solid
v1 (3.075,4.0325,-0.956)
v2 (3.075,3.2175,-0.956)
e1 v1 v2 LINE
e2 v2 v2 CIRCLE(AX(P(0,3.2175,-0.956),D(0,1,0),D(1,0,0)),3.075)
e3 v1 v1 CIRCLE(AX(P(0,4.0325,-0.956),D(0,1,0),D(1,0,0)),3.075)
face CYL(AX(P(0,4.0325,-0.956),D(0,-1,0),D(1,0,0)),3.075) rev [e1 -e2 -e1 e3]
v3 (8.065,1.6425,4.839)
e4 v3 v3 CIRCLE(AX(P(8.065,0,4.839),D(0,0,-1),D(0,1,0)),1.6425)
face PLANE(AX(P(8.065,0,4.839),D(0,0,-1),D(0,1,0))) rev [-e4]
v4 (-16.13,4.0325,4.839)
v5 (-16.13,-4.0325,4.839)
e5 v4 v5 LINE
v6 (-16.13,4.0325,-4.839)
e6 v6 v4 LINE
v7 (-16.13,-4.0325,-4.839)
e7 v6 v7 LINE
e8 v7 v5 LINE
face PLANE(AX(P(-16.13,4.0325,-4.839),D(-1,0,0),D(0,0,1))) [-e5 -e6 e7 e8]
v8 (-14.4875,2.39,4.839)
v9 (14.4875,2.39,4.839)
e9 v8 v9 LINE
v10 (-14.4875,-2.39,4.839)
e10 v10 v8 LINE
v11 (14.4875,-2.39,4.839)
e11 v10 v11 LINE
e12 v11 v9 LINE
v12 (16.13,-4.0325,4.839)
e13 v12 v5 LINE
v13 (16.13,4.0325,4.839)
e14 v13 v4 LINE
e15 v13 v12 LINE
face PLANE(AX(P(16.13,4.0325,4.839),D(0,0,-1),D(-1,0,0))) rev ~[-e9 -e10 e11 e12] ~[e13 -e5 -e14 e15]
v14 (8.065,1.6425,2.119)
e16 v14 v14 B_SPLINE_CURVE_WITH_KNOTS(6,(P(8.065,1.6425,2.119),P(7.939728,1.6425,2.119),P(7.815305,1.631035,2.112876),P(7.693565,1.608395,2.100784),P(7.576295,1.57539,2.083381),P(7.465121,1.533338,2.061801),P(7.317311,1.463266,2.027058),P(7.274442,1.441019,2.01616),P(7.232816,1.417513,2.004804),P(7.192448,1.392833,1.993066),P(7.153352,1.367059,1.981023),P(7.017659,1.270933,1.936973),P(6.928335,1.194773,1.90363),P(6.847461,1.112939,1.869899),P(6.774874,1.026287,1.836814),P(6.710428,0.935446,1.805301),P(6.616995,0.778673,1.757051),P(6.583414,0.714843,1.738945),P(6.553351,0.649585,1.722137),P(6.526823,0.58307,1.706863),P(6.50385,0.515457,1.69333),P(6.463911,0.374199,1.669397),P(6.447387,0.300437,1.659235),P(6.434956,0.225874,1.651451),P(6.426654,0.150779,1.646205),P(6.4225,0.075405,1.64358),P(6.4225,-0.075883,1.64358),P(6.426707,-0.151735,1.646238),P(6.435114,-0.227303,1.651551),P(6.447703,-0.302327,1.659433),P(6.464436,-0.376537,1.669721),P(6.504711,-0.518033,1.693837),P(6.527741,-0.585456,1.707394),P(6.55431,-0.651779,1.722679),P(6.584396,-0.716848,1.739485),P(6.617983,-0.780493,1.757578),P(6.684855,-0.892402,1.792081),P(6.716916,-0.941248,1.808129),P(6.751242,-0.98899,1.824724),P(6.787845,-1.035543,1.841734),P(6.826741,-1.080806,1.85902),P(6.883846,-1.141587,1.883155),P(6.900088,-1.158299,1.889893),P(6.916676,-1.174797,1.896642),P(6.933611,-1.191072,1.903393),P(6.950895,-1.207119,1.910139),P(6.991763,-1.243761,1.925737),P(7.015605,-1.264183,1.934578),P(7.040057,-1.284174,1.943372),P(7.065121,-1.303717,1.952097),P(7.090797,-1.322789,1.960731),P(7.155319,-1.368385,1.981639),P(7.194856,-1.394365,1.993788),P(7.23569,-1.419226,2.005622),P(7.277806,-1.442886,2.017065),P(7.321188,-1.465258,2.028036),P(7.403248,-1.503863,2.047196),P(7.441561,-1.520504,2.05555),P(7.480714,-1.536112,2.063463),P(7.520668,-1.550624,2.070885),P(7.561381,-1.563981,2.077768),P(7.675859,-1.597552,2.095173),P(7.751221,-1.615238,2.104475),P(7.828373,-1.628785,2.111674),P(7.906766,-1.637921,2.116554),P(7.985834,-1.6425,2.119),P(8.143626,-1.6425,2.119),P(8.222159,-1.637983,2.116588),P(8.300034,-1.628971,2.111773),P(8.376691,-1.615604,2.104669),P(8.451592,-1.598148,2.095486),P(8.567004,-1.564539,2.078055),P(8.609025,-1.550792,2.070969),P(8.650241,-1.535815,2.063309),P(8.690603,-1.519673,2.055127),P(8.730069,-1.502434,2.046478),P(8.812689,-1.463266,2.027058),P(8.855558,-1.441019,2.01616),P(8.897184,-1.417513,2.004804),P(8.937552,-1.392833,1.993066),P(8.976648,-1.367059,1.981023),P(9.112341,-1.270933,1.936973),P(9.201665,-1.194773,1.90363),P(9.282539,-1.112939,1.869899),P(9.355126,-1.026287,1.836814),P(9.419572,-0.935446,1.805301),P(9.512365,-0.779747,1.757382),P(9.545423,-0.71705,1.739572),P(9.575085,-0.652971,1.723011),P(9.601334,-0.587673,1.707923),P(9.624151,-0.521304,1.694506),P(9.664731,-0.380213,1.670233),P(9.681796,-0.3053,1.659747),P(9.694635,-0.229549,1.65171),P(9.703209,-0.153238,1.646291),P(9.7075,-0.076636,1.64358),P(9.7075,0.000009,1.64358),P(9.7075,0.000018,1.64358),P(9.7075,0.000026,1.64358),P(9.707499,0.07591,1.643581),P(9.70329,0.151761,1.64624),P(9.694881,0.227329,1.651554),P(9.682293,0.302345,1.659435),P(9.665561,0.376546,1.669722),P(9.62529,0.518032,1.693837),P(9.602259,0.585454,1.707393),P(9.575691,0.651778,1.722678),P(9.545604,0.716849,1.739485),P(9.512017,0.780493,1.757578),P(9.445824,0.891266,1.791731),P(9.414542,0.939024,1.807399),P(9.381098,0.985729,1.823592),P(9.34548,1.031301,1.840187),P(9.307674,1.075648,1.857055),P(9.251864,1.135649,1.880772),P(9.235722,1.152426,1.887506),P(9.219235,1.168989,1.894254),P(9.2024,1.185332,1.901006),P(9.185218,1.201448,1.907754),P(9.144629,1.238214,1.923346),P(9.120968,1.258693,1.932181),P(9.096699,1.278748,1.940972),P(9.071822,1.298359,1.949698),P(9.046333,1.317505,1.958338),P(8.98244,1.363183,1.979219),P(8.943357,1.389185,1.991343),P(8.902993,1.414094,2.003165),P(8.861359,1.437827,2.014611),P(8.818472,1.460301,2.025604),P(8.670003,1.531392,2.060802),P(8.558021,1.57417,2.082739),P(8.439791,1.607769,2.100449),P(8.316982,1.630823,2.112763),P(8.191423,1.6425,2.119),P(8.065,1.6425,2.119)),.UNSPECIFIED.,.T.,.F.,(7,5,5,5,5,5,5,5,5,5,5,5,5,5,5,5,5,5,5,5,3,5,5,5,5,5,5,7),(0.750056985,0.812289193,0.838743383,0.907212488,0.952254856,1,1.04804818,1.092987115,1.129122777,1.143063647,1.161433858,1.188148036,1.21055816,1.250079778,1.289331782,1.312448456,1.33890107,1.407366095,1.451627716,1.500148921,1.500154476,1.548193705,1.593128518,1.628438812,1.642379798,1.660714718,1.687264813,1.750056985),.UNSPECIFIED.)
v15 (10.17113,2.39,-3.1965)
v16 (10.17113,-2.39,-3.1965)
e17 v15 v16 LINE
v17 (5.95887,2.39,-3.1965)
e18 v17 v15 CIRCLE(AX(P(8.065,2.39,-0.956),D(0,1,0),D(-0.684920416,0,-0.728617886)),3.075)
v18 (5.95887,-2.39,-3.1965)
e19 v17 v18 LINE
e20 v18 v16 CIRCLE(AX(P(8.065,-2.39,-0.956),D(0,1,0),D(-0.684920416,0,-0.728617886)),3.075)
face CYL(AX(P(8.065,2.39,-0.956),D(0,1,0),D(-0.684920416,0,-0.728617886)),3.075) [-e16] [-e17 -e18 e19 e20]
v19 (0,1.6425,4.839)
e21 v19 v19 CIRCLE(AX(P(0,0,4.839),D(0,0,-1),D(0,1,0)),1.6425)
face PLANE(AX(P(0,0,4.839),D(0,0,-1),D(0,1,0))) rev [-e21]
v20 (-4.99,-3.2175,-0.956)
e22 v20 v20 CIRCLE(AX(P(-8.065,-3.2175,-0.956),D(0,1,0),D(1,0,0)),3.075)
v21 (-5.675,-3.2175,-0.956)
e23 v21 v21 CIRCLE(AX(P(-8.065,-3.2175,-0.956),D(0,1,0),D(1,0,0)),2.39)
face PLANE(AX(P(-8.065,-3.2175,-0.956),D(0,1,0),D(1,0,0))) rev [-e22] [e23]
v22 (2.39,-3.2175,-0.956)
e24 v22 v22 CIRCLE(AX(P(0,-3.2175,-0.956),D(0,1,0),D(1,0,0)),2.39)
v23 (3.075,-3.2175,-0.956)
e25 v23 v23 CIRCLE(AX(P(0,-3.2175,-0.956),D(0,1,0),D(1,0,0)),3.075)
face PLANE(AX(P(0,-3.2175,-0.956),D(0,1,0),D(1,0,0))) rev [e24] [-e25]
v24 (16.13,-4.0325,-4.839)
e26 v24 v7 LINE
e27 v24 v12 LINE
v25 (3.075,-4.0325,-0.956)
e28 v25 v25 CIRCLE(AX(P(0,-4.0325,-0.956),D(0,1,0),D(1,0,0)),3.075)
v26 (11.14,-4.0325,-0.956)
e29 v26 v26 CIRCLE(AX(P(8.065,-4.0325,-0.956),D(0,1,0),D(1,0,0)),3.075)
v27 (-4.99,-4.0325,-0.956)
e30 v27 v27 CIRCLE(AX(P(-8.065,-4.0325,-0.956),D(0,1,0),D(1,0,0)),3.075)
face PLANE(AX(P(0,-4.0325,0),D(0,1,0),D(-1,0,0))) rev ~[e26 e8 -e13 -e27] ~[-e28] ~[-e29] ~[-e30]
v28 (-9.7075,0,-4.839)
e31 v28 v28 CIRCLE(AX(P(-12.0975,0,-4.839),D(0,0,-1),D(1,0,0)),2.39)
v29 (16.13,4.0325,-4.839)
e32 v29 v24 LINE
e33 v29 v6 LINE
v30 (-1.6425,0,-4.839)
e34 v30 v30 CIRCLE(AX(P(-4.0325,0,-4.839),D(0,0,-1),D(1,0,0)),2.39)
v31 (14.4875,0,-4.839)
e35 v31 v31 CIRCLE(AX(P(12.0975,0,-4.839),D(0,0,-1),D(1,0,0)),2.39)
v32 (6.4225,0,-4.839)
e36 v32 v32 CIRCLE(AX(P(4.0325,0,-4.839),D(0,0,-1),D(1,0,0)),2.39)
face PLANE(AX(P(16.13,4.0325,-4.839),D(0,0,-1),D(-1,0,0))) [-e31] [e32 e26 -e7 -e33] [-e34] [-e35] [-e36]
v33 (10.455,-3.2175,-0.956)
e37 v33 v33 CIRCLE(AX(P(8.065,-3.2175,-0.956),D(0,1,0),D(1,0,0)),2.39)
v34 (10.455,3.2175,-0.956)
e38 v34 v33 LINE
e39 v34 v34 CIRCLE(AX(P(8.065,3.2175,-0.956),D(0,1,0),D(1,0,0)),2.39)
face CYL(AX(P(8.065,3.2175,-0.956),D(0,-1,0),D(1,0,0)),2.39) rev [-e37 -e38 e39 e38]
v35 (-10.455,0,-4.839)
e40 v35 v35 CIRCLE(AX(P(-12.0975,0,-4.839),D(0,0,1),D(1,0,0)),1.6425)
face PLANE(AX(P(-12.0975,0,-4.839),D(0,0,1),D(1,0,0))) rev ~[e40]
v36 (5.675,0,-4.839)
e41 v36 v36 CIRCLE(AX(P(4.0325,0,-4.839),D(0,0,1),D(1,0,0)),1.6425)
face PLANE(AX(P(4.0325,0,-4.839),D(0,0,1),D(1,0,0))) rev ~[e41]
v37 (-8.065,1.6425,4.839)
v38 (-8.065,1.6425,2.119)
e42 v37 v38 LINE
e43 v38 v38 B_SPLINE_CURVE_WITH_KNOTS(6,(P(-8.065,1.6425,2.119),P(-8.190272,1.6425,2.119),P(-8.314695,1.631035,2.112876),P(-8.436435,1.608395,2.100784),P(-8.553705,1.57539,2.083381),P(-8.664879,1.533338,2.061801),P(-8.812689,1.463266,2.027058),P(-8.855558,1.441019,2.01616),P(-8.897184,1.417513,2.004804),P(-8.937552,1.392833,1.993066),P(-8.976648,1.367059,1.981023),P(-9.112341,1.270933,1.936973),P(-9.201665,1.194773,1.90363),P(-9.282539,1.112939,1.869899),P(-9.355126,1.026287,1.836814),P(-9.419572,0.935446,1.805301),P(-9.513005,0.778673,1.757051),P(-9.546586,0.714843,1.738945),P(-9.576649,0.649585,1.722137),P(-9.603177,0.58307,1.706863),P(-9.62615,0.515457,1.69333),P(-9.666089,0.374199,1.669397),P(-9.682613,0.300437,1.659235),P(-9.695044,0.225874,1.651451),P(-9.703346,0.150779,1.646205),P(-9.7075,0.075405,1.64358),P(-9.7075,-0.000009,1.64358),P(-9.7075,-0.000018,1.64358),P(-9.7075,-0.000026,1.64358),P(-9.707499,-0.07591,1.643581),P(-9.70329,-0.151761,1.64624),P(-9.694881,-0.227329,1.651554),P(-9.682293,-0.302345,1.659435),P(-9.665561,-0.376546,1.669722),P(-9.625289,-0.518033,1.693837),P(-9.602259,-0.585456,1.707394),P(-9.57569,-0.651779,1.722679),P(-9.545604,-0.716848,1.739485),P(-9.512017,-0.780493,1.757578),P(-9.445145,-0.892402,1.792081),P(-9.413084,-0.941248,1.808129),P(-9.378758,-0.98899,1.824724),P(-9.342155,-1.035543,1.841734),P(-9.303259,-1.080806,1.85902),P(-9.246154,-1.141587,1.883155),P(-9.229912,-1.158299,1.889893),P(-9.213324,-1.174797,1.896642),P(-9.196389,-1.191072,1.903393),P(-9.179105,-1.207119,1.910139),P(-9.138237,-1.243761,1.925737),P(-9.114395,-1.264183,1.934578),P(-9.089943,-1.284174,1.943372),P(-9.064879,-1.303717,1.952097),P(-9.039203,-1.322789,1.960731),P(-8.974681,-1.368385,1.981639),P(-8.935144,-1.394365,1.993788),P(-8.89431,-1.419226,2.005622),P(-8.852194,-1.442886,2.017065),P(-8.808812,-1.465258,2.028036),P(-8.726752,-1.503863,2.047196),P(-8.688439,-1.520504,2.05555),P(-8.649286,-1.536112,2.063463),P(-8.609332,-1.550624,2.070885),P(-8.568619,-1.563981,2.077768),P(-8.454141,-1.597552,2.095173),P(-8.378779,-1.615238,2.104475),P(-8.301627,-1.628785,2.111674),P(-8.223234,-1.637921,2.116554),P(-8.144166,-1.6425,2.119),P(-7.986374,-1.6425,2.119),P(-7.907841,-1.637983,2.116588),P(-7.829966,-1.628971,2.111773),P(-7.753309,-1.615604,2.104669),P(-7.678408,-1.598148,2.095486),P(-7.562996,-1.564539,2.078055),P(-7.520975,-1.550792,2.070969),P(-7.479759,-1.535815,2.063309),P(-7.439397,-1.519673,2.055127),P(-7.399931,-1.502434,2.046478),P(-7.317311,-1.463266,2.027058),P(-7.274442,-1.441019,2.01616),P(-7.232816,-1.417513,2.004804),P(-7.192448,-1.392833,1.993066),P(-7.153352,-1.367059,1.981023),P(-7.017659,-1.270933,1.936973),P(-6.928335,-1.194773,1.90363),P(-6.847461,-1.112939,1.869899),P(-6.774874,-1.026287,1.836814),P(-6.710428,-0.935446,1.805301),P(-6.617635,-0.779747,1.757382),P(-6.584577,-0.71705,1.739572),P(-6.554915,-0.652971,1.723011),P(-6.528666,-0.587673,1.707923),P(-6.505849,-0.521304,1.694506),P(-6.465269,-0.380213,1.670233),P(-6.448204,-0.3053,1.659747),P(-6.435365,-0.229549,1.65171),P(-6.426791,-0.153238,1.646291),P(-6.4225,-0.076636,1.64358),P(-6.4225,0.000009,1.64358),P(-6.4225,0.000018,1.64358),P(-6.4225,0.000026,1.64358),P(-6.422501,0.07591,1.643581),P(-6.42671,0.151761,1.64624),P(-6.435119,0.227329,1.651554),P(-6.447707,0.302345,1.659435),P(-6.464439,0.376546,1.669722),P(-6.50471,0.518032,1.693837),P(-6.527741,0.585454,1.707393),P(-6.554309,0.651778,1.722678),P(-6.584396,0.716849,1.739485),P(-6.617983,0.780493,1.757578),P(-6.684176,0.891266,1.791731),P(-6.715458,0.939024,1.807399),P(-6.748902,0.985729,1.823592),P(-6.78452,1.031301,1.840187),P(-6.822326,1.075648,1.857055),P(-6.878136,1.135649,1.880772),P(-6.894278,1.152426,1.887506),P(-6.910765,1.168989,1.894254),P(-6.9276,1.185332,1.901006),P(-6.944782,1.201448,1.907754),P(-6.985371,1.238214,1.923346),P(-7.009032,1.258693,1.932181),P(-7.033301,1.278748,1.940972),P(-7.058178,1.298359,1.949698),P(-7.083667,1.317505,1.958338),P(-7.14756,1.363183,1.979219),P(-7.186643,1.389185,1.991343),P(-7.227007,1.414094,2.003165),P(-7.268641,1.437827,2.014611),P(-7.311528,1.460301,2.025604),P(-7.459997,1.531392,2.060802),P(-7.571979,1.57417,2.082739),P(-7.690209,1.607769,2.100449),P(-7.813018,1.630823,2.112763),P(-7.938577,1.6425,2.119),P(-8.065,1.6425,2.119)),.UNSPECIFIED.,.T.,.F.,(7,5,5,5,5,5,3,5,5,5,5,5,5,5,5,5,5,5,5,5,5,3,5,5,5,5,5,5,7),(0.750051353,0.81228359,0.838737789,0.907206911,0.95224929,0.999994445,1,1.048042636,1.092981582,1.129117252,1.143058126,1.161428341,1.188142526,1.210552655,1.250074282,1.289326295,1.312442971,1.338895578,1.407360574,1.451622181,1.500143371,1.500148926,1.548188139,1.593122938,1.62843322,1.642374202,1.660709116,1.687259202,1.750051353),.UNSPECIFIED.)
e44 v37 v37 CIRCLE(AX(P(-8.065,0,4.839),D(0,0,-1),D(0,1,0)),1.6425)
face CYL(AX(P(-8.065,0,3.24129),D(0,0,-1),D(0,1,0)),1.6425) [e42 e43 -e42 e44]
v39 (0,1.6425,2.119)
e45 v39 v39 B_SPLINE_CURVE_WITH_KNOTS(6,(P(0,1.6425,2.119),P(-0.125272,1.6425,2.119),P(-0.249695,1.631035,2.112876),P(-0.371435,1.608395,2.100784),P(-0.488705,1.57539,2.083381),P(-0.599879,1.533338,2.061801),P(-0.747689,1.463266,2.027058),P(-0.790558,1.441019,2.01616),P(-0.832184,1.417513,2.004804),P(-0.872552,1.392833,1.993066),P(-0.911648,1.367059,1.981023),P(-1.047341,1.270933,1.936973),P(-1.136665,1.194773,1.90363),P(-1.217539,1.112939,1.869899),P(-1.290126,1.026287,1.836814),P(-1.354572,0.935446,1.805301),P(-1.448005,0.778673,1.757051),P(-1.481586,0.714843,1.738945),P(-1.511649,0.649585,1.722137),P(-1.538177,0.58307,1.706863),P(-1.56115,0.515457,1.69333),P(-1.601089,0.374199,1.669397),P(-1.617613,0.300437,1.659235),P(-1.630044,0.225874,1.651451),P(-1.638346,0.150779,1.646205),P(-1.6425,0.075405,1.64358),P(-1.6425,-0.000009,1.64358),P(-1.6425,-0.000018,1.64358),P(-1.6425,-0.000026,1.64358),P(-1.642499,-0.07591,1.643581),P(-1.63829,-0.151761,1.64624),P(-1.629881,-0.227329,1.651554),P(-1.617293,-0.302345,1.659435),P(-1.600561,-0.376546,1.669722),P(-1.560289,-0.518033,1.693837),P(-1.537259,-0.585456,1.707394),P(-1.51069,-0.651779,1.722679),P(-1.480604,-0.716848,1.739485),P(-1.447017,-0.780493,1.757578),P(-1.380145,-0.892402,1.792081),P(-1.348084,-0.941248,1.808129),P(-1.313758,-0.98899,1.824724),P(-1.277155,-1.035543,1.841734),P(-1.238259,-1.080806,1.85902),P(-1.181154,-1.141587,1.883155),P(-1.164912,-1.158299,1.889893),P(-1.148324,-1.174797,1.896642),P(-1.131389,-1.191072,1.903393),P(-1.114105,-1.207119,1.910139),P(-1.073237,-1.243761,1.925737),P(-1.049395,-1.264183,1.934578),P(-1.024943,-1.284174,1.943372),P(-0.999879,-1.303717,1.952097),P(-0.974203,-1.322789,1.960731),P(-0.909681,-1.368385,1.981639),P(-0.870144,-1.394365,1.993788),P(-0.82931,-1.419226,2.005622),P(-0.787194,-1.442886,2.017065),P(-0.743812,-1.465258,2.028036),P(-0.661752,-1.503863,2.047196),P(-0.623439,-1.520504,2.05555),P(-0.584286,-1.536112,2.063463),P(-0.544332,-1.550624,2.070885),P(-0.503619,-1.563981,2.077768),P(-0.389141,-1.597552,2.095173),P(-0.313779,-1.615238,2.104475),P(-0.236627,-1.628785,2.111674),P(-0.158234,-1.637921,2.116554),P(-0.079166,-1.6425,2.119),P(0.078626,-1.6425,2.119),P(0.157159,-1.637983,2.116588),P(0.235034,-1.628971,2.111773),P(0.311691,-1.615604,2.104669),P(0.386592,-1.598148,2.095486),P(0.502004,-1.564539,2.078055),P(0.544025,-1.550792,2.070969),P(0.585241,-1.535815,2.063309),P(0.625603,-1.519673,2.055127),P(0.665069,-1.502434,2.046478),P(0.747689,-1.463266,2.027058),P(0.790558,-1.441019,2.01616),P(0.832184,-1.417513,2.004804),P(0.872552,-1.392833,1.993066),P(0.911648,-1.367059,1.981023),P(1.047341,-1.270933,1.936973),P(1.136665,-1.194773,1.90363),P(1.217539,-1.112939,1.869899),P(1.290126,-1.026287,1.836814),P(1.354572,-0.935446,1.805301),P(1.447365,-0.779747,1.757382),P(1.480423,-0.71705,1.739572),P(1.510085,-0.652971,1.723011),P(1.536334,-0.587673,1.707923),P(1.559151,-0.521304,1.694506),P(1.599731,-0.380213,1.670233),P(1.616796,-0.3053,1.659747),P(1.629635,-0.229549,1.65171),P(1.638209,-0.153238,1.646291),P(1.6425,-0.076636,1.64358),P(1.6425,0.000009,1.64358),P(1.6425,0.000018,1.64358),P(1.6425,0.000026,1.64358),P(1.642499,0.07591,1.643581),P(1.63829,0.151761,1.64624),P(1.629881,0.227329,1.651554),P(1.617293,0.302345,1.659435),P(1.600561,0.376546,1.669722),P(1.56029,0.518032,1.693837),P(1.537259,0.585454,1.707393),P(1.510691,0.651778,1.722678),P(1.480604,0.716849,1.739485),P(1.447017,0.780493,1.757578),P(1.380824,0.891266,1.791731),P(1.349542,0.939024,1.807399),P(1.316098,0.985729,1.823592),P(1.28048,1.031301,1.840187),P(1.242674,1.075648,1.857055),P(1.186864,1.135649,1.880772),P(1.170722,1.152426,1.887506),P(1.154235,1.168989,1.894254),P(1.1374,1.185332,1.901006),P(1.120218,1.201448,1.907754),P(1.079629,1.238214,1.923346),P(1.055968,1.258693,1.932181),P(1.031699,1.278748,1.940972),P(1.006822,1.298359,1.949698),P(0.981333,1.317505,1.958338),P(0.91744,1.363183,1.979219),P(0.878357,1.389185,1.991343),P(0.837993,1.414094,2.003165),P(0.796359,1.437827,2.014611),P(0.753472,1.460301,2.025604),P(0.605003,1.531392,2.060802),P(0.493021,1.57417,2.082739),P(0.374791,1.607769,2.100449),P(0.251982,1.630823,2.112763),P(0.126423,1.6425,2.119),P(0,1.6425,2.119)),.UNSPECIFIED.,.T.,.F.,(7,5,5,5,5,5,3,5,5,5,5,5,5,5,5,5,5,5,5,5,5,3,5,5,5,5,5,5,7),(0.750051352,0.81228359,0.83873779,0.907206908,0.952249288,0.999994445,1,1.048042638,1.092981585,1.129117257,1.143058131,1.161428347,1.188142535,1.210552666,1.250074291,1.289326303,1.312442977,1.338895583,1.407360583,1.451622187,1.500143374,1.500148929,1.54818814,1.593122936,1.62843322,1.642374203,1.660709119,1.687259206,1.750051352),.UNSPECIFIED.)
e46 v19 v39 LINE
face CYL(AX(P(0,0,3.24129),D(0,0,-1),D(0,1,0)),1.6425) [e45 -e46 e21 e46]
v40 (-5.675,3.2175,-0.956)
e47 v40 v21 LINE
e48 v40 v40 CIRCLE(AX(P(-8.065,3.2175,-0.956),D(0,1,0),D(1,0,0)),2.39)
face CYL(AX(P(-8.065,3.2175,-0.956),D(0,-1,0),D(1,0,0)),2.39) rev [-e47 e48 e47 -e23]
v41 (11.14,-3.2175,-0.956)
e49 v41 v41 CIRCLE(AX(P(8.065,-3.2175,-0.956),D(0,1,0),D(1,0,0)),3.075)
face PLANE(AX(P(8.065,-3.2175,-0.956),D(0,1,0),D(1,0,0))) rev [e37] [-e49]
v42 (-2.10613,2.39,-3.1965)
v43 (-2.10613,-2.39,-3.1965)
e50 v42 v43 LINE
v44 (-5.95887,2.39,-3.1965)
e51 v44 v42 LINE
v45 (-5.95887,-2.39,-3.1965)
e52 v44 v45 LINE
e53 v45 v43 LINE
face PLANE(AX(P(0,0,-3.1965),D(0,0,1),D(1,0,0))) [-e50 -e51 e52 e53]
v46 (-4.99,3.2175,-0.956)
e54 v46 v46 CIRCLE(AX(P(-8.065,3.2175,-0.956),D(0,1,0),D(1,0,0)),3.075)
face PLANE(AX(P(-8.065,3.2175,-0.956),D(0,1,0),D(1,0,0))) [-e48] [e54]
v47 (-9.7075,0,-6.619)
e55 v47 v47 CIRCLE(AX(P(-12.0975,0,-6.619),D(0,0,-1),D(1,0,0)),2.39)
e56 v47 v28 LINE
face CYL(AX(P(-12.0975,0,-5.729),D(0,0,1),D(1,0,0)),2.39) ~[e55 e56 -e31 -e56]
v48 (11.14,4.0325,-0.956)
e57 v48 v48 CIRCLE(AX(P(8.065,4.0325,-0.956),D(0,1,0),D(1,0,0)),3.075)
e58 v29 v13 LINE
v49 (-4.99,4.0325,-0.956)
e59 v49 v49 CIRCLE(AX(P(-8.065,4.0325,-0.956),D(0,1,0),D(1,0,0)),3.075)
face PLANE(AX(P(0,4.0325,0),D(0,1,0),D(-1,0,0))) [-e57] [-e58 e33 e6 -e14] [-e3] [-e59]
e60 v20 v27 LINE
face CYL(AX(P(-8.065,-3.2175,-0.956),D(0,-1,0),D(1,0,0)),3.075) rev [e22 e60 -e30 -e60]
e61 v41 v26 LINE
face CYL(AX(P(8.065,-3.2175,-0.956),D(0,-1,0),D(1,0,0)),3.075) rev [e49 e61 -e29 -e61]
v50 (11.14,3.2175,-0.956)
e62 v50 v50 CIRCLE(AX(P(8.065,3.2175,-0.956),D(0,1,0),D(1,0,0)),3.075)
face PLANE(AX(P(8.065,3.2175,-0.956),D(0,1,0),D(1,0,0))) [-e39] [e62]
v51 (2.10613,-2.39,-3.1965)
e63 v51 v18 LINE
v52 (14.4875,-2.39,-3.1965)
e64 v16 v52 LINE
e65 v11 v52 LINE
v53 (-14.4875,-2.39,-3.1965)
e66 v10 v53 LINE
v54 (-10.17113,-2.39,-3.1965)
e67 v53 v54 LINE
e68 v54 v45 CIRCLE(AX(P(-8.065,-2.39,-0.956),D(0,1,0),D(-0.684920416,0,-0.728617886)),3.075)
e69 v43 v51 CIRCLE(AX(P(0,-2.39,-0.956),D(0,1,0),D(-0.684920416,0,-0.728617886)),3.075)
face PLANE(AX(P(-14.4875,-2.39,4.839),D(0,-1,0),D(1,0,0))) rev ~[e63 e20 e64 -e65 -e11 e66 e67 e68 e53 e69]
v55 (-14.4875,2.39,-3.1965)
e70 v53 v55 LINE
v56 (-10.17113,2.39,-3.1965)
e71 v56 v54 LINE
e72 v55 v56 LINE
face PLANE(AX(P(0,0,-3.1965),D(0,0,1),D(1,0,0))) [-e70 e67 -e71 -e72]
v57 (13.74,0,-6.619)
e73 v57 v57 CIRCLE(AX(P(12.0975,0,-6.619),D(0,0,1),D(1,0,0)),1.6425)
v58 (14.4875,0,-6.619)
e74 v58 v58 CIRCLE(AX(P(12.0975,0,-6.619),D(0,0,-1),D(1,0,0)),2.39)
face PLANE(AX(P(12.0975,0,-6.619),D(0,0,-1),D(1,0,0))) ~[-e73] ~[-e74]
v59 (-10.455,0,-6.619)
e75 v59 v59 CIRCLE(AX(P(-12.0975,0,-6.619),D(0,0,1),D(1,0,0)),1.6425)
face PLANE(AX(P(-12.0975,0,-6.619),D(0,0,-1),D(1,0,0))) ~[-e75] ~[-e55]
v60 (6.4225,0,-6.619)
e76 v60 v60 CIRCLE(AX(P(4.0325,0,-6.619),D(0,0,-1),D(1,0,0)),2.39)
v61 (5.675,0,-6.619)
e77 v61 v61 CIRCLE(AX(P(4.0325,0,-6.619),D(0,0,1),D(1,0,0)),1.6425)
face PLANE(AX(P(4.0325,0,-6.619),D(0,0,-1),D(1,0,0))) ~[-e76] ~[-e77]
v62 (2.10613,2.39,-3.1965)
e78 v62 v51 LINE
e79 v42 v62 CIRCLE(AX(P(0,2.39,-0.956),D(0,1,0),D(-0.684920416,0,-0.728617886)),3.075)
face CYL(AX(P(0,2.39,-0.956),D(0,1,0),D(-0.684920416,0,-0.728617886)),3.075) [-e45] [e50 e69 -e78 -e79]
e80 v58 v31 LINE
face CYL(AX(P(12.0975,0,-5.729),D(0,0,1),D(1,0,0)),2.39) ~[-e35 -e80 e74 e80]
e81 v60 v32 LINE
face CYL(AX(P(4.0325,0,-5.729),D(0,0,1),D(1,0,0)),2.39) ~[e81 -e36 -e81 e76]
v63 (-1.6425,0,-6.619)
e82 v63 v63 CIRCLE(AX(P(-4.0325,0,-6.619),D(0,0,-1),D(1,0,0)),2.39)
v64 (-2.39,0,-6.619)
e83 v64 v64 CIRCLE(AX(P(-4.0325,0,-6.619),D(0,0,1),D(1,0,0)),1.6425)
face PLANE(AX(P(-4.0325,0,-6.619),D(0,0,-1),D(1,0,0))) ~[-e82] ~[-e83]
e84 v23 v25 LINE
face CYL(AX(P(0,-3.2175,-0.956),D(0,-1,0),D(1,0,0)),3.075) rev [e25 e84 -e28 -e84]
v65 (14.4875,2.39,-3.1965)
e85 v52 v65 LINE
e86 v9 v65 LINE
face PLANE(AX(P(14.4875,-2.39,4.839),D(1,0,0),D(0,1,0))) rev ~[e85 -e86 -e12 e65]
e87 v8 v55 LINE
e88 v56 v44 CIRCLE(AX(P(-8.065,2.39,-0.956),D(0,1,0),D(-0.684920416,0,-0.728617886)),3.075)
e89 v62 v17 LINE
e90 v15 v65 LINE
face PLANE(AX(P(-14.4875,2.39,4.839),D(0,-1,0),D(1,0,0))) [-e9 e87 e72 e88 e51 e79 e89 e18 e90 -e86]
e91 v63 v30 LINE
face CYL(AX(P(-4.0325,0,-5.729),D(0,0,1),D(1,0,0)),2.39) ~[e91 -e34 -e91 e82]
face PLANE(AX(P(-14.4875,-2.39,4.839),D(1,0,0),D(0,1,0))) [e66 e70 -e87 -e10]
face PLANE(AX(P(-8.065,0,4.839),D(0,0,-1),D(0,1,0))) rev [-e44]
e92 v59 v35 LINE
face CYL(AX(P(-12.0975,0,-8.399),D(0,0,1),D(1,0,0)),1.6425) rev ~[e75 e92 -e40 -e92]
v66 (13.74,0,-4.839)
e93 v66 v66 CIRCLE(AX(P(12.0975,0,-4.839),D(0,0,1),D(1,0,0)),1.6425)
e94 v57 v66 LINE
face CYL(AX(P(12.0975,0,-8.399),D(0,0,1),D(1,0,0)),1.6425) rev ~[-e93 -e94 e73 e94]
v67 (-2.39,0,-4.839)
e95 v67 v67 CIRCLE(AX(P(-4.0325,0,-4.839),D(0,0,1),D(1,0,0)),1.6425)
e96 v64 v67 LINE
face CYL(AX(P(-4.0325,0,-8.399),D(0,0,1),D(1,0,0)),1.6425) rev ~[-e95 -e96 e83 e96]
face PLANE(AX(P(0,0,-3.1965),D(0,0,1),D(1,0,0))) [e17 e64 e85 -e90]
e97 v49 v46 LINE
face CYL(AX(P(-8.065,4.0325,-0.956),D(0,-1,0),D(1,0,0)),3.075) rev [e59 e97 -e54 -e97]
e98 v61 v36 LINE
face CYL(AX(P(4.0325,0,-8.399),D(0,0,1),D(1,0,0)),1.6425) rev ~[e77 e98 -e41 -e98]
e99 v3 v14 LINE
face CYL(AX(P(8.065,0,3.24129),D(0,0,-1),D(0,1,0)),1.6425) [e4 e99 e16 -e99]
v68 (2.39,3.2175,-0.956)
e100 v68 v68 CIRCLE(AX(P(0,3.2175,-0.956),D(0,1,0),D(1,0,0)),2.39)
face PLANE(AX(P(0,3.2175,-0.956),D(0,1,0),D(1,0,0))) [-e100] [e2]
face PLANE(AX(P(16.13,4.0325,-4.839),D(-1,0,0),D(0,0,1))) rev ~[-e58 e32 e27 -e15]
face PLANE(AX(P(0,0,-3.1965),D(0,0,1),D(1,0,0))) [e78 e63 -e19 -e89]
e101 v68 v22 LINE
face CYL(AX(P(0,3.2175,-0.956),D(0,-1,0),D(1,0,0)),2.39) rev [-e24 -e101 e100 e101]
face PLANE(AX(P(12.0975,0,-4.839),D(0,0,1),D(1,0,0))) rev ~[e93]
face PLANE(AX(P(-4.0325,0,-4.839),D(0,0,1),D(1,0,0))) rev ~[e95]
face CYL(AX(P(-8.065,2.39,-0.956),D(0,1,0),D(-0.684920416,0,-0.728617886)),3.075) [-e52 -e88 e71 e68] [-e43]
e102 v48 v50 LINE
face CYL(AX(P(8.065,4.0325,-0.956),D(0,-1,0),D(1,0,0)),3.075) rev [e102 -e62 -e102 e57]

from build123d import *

# Parameters (mm, degrees)
SKETCH1_W                = 32.26
SKETCH1_H                = 9.678
BOSS_EXTRUDE1_DEPTH      = 8.065
SKETCH2_W                = 28.975
SKETCH2_H                = 4.78
CUT_EXTRUDE1_DEPTH       = 8.0355
BOSS_EXTRUDE2_DEPTH      = 4.78
BOSS_EXTRUDE3_DEPTH      = 4.78
BOSS_EXTRUDE4_DEPTH      = 4.78
SKETCH6_W                = 2.39
SKETCH6_H                = 1.78
SKETCH7_W                = 2.39
SKETCH7_H                = 1.78
SKETCH8_W                = 2.39
SKETCH8_H                = 1.78
SKETCH9_W                = 2.39
SKETCH9_H                = 1.78
SKETCH13_W               = 3.195419505
SKETCH13_H               = 1.6425
SKETCH14_W               = 3.195419505
SKETCH14_H               = 1.6425
SKETCH15_W               = 3.195419505
SKETCH15_H               = 1.6425
M3_CLEARANCE_HOLE1_D     = 3.285
M3_CLEARANCE_HOLE1_DEPTH = 1.78


with BuildPart() as part:
    # Sketch1 → Boss-Extrude1 (new body)
    with BuildSketch(Plane(origin=(0, 4.0325, 0), x_dir=(-1, 0, 0), z_dir=(0, 1, 0))):
        Rectangle(SKETCH1_W, SKETCH1_H)
    extrude(amount=-BOSS_EXTRUDE1_DEPTH)

    # Sketch2 → Cut-Extrude1 (cut)
    with BuildSketch(Plane.XY.offset(4.839)):
        Rectangle(SKETCH2_W, SKETCH2_H)
    extrude(amount=-CUT_EXTRUDE1_DEPTH, mode=Mode.SUBTRACT)

    # Sketch3 → Boss-Extrude2 (add)
    with BuildSketch(Plane.XZ.offset(-2.39)):
        with BuildLine():
            Line((10.171130278, -3.1965), (5.958869722, -3.1965))
            ThreePointArc((5.958869722, -3.1965), (8.065, 2.119), (10.171130278, -3.1965))
        make_face()
    extrude(amount=BOSS_EXTRUDE2_DEPTH)

    # Sketch4 → Boss-Extrude3 (add)
    with BuildSketch(Plane.XZ.offset(-2.39)):
        with BuildLine():
            Line((2.106130278, -3.1965), (-2.106130278, -3.1965))
            ThreePointArc((-2.106130278, -3.1965), (0, 2.119), (2.106130278, -3.1965))
        make_face()
    extrude(amount=BOSS_EXTRUDE3_DEPTH)

    # Sketch5 → Boss-Extrude4 (add)
    with BuildSketch(Plane.XZ.offset(-2.39)):
        with BuildLine():
            Line((-5.958869722, -3.1965), (-10.171130278, -3.1965))
            ThreePointArc((-10.171130278, -3.1965), (-8.065, 2.119), (-5.958869722, -3.1965))
        make_face()
    extrude(amount=BOSS_EXTRUDE4_DEPTH)

    # Sketch6 → Revolve1 (revolve)
    with BuildSketch(Plane.XZ):
        with Locations((13.2925, -5.729)):
            Rectangle(SKETCH6_W, SKETCH6_H)
    revolve(axis=Axis((12.0975, 0, -4.839), (0, 0, -1)))

    # Sketch7 → Revolve2 (revolve)
    with BuildSketch(Plane.XZ):
        with Locations((5.2275, -5.729)):
            Rectangle(SKETCH7_W, SKETCH7_H)
    revolve(axis=Axis((4.0325, 0, -4.839), (0, 0, -1)))

    # Sketch8 → Revolve3 (revolve)
    with BuildSketch(Plane.XZ):
        with Locations((-2.8375, -5.729)):
            Rectangle(SKETCH8_W, SKETCH8_H)
    revolve(axis=Axis((-4.0325, 0, -4.839), (0, 0, -1)))

    # Sketch9 → Revolve4 (revolve)
    with BuildSketch(Plane.XZ):
        with Locations((-10.9025, -5.729)):
            Rectangle(SKETCH9_W, SKETCH9_H)
    revolve(axis=Axis((-12.0975, 0, -4.839), (0, 0, -1)))

    # Sketch10 → Cut-Revolve1 (revolve, cut)
    with BuildSketch(Plane(origin=(0, 0, -0.956), x_dir=(-1, 0, 0), z_dir=(0, 0, -1))):
        Polygon((-11.14, -4.0325), (-8.065, -4.0325), (-8.065, 4.0325), (-11.14, 4.0325), (-11.14, 3.2175), (-10.455, 3.2175), (-10.455, -3.2175), (-11.14, -3.2175), align=None)
    revolve(axis=Axis((8.065, -4.0325, -0.956), (0, 1, 0)), mode=Mode.SUBTRACT)

    # Sketch11 → Cut-Revolve2 (revolve, cut)
    with BuildSketch(Plane(origin=(0, 0, -0.956), x_dir=(-1, 0, 0), z_dir=(0, 0, -1))):
        Polygon((-3.075, -4.0325), (0, -4.0325), (0, 4.0325), (-3.075, 4.0325), (-3.075, 3.2175), (-2.39, 3.2175), (-2.39, -3.2175), (-3.075, -3.2175), align=None)
    revolve(axis=Axis((0, -4.0325, -0.956), (0, 1, 0)), mode=Mode.SUBTRACT)

    # Sketch12 → Cut-Revolve3 (revolve, cut)
    with BuildSketch(Plane(origin=(0, 0, -0.956), x_dir=(-1, 0, 0), z_dir=(0, 0, -1))):
        Polygon((4.99, -4.0325), (8.065, -4.0325), (8.065, 4.0325), (4.99, 4.0325), (4.99, 3.2175), (5.675, 3.2175), (5.675, -3.2175), (4.99, -3.2175), align=None)
    revolve(axis=Axis((-8.065, -4.0325, -0.956), (0, 1, 0)), mode=Mode.SUBTRACT)

    # Sketch13 → Revolve5 (revolve)
    with BuildSketch(Plane(origin=(-8.065, 0, 0), x_dir=(0, 0, -1), z_dir=(1, 0, 0))):
        with Locations((-3.241290248, 0.82125)):
            Rectangle(SKETCH13_W, SKETCH13_H)
    revolve(axis=Axis((-8.065, 0, 4.839), (0, 0, -1)))

    # Sketch14 → Revolve6 (revolve)
    with BuildSketch(Plane(origin=(0, 0, 0), x_dir=(0, 0, -1), z_dir=(1, 0, 0))):
        with Locations((-3.241290248, 0.82125)):
            Rectangle(SKETCH14_W, SKETCH14_H)
    revolve(axis=Axis((0, 0, 4.839), (0, 0, -1)))

    # Sketch15 → Revolve7 (revolve)
    with BuildSketch(Plane(origin=(8.065, 0, 0), x_dir=(0, 0, -1), z_dir=(1, 0, 0))):
        with Locations((-3.241290248, 0.82125)):
            Rectangle(SKETCH15_W, SKETCH15_H)
    revolve(axis=Axis((8.065, 0, 4.839), (0, 0, -1)))

    # M3 Clearance Hole1
    with Locations(Plane(origin=(0, 0, -6.619), x_dir=(-1, 0, 0), z_dir=(0, 0, -1))):
        with Locations((12.0975, 0), (4.0325, 0), (-4.0325, 0), (-12.0975, 0)):
            Hole(M3_CLEARANCE_HOLE1_D / 2, depth=M3_CLEARANCE_HOLE1_DEPTH)


solid = part.part
